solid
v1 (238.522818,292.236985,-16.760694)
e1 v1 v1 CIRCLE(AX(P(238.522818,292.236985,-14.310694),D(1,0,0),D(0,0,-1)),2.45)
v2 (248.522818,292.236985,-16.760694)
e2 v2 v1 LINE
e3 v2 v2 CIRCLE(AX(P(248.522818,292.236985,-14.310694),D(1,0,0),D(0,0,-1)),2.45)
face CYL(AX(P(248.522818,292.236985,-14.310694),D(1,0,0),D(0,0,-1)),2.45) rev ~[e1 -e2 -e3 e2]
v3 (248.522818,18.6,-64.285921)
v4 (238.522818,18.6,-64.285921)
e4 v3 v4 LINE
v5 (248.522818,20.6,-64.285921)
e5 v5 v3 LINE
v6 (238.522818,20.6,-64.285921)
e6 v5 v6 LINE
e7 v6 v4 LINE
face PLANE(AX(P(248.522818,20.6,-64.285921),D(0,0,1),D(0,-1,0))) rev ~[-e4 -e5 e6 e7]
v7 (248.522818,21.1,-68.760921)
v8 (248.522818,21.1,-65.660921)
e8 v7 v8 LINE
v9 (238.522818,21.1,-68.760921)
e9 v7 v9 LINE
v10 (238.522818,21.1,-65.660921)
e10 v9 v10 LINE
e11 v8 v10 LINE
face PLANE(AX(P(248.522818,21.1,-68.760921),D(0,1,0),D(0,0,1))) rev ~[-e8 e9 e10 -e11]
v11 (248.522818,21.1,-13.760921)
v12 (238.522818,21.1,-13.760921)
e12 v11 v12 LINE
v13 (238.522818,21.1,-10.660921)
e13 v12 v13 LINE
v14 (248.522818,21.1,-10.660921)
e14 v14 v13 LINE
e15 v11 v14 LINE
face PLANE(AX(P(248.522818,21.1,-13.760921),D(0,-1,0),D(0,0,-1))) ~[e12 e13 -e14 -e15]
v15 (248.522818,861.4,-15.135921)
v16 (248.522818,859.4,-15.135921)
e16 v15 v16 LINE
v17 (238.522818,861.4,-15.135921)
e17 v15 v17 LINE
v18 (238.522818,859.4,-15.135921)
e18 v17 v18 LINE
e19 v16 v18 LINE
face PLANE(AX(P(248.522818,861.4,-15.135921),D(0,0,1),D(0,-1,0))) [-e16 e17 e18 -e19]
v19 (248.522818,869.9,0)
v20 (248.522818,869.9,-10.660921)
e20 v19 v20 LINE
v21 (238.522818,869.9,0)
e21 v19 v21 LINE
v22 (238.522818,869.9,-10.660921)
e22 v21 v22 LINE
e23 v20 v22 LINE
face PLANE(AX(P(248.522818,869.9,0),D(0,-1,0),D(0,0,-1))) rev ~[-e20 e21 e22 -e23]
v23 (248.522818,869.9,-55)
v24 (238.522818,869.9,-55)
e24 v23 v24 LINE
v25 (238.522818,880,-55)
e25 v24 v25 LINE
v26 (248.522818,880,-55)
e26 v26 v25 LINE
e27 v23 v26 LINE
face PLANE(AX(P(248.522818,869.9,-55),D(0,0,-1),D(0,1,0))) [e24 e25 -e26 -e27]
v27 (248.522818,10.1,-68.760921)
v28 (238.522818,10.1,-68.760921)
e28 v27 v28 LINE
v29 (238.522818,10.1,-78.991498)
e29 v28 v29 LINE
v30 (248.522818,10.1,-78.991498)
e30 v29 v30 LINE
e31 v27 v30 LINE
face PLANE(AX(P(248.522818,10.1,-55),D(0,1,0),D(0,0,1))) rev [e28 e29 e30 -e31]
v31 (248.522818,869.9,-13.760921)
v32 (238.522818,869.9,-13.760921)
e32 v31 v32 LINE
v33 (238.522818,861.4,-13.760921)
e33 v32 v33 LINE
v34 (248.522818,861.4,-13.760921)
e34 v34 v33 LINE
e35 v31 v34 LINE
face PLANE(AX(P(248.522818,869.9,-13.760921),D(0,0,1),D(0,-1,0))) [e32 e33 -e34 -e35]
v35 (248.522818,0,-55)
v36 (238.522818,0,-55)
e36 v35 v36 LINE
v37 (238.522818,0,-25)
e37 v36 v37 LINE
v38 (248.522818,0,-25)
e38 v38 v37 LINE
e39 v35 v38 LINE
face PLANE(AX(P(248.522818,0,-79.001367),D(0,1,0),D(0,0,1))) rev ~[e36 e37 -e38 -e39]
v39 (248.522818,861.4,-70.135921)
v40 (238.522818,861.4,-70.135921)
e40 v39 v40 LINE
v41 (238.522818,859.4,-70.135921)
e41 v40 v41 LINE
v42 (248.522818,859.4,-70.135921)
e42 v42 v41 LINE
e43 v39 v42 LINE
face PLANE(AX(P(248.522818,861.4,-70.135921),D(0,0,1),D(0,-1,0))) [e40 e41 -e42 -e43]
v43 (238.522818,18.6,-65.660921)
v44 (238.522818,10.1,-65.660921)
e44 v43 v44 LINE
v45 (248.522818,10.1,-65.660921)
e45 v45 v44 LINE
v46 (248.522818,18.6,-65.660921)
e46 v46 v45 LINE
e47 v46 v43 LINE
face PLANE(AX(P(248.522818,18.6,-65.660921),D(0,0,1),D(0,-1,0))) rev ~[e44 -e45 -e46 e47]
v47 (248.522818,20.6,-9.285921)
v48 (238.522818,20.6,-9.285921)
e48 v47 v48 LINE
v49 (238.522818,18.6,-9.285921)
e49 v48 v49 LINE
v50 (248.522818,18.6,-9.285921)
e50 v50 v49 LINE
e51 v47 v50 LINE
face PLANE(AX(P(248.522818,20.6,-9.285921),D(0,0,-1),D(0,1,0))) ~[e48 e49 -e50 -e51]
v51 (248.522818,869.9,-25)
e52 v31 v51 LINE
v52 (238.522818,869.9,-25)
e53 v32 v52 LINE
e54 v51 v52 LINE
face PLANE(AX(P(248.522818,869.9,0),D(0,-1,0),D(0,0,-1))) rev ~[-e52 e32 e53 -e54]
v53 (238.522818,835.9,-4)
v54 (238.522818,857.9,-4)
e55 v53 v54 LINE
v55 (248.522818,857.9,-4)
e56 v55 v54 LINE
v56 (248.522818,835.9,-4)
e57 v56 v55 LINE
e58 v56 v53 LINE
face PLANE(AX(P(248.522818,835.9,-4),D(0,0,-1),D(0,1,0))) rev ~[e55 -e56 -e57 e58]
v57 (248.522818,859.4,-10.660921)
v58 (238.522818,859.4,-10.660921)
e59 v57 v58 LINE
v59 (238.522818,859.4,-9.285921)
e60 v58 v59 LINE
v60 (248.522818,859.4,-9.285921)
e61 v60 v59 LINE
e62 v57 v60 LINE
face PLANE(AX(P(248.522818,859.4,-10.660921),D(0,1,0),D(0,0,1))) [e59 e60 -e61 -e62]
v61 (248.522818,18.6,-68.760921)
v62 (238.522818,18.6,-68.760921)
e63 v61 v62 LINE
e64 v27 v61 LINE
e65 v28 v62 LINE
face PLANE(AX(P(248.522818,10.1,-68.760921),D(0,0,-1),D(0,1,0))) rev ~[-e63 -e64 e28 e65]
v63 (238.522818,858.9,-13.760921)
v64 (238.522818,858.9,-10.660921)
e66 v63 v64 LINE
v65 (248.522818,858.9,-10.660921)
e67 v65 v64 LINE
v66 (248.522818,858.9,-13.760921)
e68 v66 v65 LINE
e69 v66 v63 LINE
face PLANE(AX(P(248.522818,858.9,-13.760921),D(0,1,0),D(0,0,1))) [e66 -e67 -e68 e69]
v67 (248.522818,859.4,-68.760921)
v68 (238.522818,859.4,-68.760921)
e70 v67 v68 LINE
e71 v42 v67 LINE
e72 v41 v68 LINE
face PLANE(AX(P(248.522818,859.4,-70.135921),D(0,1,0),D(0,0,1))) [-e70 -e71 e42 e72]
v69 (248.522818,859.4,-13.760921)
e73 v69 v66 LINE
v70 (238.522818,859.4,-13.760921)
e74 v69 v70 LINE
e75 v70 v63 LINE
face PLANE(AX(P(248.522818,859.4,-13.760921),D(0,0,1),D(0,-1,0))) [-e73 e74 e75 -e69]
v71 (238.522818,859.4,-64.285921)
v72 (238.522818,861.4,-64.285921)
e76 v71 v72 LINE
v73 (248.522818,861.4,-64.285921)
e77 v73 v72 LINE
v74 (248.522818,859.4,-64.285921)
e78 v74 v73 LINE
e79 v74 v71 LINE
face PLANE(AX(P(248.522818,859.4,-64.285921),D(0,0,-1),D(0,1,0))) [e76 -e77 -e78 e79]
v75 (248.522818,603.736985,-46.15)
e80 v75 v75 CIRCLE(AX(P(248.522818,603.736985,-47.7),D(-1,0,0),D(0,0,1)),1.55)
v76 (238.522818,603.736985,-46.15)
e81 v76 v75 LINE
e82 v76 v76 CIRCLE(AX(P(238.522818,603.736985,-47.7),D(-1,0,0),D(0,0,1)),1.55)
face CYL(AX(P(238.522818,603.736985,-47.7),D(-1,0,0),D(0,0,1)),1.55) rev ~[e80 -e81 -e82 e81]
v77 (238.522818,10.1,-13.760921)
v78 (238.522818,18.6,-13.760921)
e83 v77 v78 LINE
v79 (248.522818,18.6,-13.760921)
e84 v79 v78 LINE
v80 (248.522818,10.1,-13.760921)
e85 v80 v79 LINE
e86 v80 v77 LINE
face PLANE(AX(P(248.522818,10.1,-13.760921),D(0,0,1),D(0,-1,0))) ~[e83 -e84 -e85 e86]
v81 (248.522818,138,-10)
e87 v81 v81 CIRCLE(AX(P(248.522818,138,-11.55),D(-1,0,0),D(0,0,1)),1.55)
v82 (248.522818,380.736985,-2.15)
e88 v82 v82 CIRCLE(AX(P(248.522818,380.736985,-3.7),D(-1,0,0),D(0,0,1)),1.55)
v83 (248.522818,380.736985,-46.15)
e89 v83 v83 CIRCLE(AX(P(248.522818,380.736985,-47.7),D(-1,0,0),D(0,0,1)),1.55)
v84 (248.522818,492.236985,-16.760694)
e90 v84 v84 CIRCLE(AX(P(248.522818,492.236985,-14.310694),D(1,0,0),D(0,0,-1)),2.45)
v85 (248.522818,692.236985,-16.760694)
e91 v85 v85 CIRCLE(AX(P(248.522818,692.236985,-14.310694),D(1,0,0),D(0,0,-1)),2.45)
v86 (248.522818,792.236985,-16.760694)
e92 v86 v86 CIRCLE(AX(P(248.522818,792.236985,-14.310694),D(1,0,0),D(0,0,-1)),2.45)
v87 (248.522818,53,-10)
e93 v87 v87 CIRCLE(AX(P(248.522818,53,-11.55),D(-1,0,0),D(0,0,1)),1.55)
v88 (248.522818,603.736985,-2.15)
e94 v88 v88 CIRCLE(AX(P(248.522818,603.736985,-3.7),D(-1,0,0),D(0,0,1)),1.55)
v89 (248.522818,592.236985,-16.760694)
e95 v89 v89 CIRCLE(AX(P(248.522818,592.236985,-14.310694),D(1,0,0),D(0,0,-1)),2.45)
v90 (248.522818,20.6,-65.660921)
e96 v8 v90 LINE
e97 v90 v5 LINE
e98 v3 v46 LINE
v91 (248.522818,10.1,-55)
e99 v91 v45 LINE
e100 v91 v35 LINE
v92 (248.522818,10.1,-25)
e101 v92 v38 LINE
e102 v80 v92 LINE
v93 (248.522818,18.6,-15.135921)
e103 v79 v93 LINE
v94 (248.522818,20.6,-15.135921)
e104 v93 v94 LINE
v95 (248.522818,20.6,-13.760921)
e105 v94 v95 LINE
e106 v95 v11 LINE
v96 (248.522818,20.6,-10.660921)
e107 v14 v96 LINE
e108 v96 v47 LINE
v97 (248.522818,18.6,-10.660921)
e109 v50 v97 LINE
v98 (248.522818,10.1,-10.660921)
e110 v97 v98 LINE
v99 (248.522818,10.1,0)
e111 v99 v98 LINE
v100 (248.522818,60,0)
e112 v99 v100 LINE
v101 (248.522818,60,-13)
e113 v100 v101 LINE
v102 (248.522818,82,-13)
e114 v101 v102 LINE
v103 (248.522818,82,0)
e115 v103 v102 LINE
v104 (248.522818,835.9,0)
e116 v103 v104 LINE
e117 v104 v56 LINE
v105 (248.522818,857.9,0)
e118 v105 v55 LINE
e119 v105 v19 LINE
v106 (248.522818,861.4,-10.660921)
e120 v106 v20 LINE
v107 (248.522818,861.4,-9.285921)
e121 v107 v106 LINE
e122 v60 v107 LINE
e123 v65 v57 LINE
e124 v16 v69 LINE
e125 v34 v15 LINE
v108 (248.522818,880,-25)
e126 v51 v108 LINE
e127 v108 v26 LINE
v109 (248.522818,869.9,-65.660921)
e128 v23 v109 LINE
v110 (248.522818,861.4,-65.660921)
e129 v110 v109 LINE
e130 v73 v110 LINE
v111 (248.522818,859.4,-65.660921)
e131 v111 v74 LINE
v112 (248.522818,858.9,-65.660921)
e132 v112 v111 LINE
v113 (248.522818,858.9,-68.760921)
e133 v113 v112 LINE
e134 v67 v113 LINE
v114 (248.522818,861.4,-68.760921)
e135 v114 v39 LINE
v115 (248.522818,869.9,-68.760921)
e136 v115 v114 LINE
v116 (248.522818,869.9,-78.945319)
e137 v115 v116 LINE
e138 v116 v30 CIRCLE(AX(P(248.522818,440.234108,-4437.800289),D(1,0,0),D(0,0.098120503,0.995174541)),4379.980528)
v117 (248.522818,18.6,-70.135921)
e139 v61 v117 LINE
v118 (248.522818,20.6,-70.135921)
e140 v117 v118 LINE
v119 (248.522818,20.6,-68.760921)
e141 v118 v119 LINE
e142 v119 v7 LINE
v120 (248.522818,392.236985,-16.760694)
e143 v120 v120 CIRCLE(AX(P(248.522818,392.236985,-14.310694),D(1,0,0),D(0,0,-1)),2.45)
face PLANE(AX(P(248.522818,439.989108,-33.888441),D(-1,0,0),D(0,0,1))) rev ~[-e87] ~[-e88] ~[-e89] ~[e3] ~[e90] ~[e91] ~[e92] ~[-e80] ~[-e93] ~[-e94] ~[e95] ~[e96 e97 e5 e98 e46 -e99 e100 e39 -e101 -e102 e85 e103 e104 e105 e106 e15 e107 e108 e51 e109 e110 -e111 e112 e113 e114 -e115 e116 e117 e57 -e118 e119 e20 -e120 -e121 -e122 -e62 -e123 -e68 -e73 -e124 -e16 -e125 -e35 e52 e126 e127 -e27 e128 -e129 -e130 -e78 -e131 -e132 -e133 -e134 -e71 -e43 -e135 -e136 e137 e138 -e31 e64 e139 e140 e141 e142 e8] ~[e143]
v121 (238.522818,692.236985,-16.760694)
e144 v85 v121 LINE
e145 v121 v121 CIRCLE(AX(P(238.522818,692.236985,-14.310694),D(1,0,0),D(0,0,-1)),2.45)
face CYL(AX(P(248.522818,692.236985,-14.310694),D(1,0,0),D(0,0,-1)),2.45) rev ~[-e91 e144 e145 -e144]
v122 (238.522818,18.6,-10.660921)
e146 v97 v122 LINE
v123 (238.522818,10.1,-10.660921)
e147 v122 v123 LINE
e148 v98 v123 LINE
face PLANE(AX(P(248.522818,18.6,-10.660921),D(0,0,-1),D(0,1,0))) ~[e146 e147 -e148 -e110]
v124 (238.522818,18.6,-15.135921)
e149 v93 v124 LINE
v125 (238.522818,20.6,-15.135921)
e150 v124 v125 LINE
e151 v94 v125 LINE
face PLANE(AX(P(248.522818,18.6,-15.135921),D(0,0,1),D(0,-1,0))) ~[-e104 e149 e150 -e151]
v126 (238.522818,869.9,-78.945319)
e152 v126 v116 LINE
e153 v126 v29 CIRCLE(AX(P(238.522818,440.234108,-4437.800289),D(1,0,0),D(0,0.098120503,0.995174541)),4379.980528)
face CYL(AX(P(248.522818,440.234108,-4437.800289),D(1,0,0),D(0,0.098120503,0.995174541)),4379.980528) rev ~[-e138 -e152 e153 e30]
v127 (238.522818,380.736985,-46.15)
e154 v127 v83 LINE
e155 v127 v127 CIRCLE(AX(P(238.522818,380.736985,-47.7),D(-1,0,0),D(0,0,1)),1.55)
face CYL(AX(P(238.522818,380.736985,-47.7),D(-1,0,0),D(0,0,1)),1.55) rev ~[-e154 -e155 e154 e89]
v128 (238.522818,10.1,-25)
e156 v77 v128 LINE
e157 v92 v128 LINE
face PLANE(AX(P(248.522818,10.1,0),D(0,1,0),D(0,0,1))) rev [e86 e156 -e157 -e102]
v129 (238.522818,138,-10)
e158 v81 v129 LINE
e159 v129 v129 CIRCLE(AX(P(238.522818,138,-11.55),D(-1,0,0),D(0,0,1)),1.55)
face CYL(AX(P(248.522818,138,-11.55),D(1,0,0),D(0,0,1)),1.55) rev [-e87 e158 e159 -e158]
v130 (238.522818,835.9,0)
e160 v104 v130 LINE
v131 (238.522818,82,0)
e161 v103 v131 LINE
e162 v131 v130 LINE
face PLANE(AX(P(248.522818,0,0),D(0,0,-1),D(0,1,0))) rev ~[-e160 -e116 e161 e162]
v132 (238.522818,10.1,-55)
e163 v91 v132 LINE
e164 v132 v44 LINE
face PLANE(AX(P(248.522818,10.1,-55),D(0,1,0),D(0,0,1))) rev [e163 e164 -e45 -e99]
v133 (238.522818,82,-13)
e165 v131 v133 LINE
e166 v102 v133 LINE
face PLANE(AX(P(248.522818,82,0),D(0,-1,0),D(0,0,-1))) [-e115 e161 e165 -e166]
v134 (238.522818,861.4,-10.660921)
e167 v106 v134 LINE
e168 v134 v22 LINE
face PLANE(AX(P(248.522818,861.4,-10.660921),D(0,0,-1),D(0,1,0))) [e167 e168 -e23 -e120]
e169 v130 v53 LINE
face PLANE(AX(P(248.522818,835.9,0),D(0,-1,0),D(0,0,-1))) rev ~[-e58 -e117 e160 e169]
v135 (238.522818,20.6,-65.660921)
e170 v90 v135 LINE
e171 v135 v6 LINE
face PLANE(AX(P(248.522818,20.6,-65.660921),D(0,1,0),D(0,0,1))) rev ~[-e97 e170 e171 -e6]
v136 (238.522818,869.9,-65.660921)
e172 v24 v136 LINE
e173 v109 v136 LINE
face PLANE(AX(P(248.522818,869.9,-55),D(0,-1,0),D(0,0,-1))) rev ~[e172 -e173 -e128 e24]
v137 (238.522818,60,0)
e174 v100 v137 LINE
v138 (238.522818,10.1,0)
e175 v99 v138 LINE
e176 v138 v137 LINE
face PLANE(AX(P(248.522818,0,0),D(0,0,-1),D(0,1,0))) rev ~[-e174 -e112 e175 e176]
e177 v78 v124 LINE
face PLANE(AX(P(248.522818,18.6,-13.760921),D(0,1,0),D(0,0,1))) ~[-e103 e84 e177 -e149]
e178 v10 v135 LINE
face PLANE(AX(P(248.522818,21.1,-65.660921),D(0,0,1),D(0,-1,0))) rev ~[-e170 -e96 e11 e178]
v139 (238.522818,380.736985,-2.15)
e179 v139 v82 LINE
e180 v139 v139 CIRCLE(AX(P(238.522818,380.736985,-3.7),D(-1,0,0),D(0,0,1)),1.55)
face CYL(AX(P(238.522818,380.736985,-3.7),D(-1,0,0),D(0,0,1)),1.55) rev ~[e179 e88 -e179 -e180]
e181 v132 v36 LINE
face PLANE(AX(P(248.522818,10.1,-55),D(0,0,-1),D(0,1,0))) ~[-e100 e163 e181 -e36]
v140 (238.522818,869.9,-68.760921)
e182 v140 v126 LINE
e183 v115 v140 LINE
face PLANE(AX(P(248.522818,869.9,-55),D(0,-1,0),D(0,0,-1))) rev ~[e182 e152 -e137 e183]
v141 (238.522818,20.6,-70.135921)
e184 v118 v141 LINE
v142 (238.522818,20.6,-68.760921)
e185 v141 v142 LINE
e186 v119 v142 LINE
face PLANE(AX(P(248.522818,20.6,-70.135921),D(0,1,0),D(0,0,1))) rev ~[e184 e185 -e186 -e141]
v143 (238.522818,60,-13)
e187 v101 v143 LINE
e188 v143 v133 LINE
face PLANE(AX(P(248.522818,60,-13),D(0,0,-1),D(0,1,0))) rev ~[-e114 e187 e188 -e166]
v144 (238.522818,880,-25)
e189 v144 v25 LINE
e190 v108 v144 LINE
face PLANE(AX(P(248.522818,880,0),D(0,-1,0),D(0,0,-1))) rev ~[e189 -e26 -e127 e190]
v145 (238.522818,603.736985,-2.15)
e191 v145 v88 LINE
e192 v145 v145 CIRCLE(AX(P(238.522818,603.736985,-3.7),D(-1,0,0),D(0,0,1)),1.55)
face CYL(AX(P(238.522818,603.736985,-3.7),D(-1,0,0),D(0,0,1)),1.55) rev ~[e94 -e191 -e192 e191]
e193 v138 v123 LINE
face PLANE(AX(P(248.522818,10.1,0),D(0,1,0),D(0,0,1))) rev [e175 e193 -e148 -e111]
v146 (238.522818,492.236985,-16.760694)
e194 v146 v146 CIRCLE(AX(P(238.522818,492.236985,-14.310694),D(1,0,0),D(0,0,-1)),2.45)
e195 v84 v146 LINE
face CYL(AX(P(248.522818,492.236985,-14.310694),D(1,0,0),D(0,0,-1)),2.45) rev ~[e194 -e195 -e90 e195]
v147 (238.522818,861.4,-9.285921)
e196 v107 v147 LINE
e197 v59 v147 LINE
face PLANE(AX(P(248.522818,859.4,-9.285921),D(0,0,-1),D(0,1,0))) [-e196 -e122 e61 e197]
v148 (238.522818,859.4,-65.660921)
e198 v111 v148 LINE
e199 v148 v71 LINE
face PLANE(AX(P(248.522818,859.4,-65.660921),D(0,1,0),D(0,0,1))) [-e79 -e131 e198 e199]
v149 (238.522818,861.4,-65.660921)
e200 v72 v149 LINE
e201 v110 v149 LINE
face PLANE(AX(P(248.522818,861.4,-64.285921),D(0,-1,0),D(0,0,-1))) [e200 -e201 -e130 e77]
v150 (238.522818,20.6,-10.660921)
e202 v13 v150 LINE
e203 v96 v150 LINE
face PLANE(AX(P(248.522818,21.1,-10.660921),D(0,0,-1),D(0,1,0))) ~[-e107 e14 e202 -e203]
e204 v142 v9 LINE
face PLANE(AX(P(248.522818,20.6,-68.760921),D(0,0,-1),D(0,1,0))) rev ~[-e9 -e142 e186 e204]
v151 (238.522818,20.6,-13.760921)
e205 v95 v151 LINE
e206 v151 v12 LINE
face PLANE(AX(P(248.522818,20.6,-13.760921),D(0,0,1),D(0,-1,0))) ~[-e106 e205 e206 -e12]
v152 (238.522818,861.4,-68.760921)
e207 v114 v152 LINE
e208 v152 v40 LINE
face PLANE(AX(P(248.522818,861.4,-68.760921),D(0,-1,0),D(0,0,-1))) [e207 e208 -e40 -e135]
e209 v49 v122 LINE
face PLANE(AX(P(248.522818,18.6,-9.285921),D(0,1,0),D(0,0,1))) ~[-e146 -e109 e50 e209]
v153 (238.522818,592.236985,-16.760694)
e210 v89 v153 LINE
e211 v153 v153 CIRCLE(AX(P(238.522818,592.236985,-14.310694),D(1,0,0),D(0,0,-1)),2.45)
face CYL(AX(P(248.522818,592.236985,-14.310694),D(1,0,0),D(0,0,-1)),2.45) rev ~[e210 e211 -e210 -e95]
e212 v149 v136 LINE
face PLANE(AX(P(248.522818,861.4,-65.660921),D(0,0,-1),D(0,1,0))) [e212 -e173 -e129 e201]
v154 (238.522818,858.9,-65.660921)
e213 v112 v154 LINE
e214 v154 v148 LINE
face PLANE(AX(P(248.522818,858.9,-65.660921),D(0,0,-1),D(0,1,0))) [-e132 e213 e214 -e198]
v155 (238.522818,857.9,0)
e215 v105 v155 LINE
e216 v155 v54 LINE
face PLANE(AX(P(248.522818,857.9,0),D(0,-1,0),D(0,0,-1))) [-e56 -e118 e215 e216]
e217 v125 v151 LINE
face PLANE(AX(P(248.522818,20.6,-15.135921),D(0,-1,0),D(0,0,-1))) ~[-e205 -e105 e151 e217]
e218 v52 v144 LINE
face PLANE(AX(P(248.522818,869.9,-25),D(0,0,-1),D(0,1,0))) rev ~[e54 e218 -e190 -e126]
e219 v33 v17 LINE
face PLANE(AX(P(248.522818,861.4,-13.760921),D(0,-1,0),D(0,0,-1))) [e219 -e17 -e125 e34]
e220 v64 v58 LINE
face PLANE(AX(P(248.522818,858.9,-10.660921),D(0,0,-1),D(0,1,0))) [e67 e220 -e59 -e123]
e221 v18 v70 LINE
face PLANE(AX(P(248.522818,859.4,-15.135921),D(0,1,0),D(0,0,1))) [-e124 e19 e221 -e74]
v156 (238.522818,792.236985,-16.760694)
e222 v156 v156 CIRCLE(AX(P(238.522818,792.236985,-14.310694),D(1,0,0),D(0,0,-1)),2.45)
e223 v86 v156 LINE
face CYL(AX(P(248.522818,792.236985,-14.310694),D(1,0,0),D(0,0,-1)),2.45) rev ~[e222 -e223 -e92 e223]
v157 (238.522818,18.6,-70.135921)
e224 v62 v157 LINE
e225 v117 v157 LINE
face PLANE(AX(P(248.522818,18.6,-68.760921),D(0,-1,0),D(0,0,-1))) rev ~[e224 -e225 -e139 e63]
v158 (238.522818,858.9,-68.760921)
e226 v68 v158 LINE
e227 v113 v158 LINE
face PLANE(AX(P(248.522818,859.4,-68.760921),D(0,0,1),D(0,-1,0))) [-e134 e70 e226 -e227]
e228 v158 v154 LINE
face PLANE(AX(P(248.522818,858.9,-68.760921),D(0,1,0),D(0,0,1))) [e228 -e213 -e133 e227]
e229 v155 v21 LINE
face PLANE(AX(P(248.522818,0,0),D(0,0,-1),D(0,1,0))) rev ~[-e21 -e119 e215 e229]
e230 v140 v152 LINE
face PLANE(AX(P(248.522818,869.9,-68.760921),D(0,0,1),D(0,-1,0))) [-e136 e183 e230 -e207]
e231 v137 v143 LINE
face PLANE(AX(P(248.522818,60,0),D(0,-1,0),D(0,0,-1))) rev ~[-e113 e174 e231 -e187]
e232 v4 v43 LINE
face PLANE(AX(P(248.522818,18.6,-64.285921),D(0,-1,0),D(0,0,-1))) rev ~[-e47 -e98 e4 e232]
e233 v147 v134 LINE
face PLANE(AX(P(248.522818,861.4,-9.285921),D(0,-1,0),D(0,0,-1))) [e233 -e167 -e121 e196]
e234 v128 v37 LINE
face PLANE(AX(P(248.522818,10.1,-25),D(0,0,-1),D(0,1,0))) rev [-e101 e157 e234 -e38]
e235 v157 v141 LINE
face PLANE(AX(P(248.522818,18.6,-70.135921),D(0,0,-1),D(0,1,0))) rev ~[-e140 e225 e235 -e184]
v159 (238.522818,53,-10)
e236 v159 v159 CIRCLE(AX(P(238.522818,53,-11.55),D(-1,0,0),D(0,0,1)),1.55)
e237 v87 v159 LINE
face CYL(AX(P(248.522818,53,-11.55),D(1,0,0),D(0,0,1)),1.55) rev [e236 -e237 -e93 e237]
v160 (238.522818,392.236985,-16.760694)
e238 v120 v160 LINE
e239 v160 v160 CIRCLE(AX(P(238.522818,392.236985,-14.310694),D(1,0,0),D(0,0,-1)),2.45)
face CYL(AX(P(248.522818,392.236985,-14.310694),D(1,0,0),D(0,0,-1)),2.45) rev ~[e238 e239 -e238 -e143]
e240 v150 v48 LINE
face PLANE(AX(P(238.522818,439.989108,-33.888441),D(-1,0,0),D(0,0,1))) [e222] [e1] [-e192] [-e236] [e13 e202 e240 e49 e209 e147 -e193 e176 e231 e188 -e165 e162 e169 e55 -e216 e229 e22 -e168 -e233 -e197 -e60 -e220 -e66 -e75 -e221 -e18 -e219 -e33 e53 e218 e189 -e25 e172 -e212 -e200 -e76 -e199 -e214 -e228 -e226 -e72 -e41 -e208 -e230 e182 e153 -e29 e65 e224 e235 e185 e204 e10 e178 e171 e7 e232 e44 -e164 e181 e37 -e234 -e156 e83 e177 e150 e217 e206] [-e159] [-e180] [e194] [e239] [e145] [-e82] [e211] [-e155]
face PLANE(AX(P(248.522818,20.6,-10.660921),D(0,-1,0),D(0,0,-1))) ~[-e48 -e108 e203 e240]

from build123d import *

# Parameters (mm, degrees)
DODANIE_WYCI_GNI_CIE1_DEPTH = 10
SZKIC1_W                    = 30
SZKIC1_H                    = 10.1
SZKIC1_W_2                  = 25
WYTNIJ_WYCI_GNI_CIE1_DEPTH  = 10
WYTNIJ_WYCI_GNI_CIE2_DEPTH  = 10
SZYK_LINIOWY1_COUNT         = 2
SZYK_LINIOWY1_PITCH         = 55
SZKIC5_R                    = 1.55
WYTNIJ_WYCI_GNI_CIE3_DEPTH  = 10
SZKIC7_R                    = 2.45
WYTNIJ_WYCI_GNI_CIE5_DEPTH  = 10
SZYK_LINIOWY3_COUNT         = 6
SZYK_LINIOWY3_PITCH         = 100
SZKIC8_W                    = 13
SZKIC8_H                    = 22
WYTNIJ_WYCI_GNI_CIE6_DEPTH  = 10
SZKIC9_W                    = 4
SZKIC9_H                    = 22
WYTNIJ_WYCI_GNI_CIE7_DEPTH  = 10
LUSTRO1_COPY_1_DEPTH        = 10
SZKIC12_R                   = 1.55
WYTNIJ_WYCI_GNI_CIE8_DEPTH  = 10
SZYK_LINIOWY4_COUNT         = 2
SZYK_LINIOWY4_PITCH         = 223


with BuildPart() as part:
    # Szkic11 → Dodanie-wyciągnięcie1 (new body)
    with BuildSketch(Plane.ZY.offset(-248.52281754)):
        with BuildLine():
            Line((-79.001367167, 0), (0, 0))
            Line((0, 0), (0, 880))
            Line((0, 880), (-78.955177412, 880))
            Line((-78.955177412, 880), (-78.955177412, 870))
            ThreePointArc((-78.955177412, 870), (-57.819766969, 439.998863597), (-79.001367167, 10))
            Line((-79.001367167, 10), (-79.001367167, 0))
        make_face()
    extrude(amount=DODANIE_WYCI_GNI_CIE1_DEPTH)

    # Szkic1 → Wytnij-wyciągnięcie1 (cut)
    with BuildSketch(Plane(origin=(248.52281754, 0, 0), x_dir=(0, 0, -1), z_dir=(1, 0, 0))):
        with Locations((70, 874.95)):
            Rectangle(SZKIC1_W, SZKIC1_H)
        with Locations((12.5, 874.95)):
            Rectangle(SZKIC1_W_2, SZKIC1_H)
    wytnij_wyci_gni_cie1 = extrude(amount=-WYTNIJ_WYCI_GNI_CIE1_DEPTH, mode=Mode.SUBTRACT)

    # Szkic2 → Wytnij-wyciągnięcie2 (cut)
    with BuildSketch(Plane(origin=(248.52281754, 0, 0), x_dir=(0, 0, -1), z_dir=(1, 0, 0))):
        Polygon((10.660920663, 869.9), (13.760920663, 869.9), (13.760920663, 861.4), (15.135920663, 861.4), (15.135920663, 859.4), (13.760920663, 859.4), (13.760920663, 858.9), (10.660920663, 858.9), (10.660920663, 859.4), (9.285920663, 859.4), (9.285920663, 861.4), (10.660920663, 861.4), align=None)
    wytnij_wyci_gni_cie2 = extrude(amount=-WYTNIJ_WYCI_GNI_CIE2_DEPTH, mode=Mode.SUBTRACT)

    # Szyk liniowy1: Wytnij-wyciągnięcie2 ×2
    with Locations(*[(0, 0, -i * SZYK_LINIOWY1_PITCH) for i in range(1, SZYK_LINIOWY1_COUNT)]):
        add(wytnij_wyci_gni_cie2, mode=Mode.SUBTRACT)

    # Szkic5 → Wytnij-wyciągnięcie3 (cut)
    with BuildSketch(Plane.ZY.offset(-248.52281754)):
        with Locations((-11.55, 53)):
            Circle(SZKIC5_R)
        with Locations((-11.55, 138)):
            Circle(SZKIC5_R)
    extrude(amount=WYTNIJ_WYCI_GNI_CIE3_DEPTH, mode=Mode.SUBTRACT)

    # Szkic7 → Wytnij-wyciągnięcie5 (cut)
    with BuildSketch(Plane(origin=(248.52281754, 0, 0), x_dir=(0, 0, -1), z_dir=(1, 0, 0))):
        with Locations((14.31069395, 792.236985413)):
            Circle(SZKIC7_R)
    wytnij_wyci_gni_cie5 = extrude(amount=-WYTNIJ_WYCI_GNI_CIE5_DEPTH, mode=Mode.SUBTRACT)

    # Szyk liniowy3: Wytnij-wyciągnięcie5 ×6
    with Locations(*[(0, -i * SZYK_LINIOWY3_PITCH, 0) for i in range(1, SZYK_LINIOWY3_COUNT)]):
        add(wytnij_wyci_gni_cie5, mode=Mode.SUBTRACT)

    # Szkic8 → Wytnij-wyciągnięcie6 (cut)
    with BuildSketch(Plane(origin=(248.52281754, 0, 0), x_dir=(0, 0, -1), z_dir=(1, 0, 0))):
        with Locations((6.5, 71)):
            Rectangle(SZKIC8_W, SZKIC8_H)
    extrude(amount=-WYTNIJ_WYCI_GNI_CIE6_DEPTH, mode=Mode.SUBTRACT)

    # Szkic9 → Wytnij-wyciągnięcie7 (cut)
    with BuildSketch(Plane(origin=(248.52281754, 0, 0), x_dir=(0, 0, -1), z_dir=(1, 0, 0))):
        with Locations((2, 846.9)):
            Rectangle(SZKIC9_W, SZKIC9_H)
    extrude(amount=-WYTNIJ_WYCI_GNI_CIE7_DEPTH, mode=Mode.SUBTRACT)

    # Lustro1: Wytnij-wyciągnięcie1, Wytnij-wyciągnięcie2 across plane
    add(wytnij_wyci_gni_cie1.mirror(Plane.ZX.offset(440)), mode=Mode.SUBTRACT)
    add(wytnij_wyci_gni_cie2.mirror(Plane.ZX.offset(440)), mode=Mode.SUBTRACT)

    # Lustro1 copy 1 sketch → Lustro1 copy 1 (cut)
    with BuildSketch(Plane(origin=(248.52281754, 880, -55), x_dir=(0, 0, -1), z_dir=(1, 0, 0))):
        Polygon((10.660920663, -869.9), (13.760920663, -869.9), (13.760920663, -861.4), (15.135920663, -861.4), (15.135920663, -859.4), (13.760920663, -859.4), (13.760920663, -858.9), (10.660920663, -858.9), (10.660920663, -859.4), (9.285920663, -859.4), (9.285920663, -861.4), (10.660920663, -861.4), align=None)
    extrude(amount=-LUSTRO1_COPY_1_DEPTH, mode=Mode.SUBTRACT)

    # Szkic12 → Wytnij-wyciągnięcie8 (cut)
    with BuildSketch(Plane.ZY.offset(-238.52281754)):
        with Locations((-47.7, 603.736985413)):
            Circle(SZKIC12_R)
        with Locations((-3.7, 603.736985413)):
            Circle(SZKIC12_R)
    wytnij_wyci_gni_cie8 = extrude(amount=-WYTNIJ_WYCI_GNI_CIE8_DEPTH, mode=Mode.SUBTRACT)

    # Szyk liniowy4: Wytnij-wyciągnięcie8 ×2
    with Locations(*[(0, -i * SZYK_LINIOWY4_PITCH, 0) for i in range(1, SZYK_LINIOWY4_COUNT)]):
        add(wytnij_wyci_gni_cie8, mode=Mode.SUBTRACT)


solid = part.part
